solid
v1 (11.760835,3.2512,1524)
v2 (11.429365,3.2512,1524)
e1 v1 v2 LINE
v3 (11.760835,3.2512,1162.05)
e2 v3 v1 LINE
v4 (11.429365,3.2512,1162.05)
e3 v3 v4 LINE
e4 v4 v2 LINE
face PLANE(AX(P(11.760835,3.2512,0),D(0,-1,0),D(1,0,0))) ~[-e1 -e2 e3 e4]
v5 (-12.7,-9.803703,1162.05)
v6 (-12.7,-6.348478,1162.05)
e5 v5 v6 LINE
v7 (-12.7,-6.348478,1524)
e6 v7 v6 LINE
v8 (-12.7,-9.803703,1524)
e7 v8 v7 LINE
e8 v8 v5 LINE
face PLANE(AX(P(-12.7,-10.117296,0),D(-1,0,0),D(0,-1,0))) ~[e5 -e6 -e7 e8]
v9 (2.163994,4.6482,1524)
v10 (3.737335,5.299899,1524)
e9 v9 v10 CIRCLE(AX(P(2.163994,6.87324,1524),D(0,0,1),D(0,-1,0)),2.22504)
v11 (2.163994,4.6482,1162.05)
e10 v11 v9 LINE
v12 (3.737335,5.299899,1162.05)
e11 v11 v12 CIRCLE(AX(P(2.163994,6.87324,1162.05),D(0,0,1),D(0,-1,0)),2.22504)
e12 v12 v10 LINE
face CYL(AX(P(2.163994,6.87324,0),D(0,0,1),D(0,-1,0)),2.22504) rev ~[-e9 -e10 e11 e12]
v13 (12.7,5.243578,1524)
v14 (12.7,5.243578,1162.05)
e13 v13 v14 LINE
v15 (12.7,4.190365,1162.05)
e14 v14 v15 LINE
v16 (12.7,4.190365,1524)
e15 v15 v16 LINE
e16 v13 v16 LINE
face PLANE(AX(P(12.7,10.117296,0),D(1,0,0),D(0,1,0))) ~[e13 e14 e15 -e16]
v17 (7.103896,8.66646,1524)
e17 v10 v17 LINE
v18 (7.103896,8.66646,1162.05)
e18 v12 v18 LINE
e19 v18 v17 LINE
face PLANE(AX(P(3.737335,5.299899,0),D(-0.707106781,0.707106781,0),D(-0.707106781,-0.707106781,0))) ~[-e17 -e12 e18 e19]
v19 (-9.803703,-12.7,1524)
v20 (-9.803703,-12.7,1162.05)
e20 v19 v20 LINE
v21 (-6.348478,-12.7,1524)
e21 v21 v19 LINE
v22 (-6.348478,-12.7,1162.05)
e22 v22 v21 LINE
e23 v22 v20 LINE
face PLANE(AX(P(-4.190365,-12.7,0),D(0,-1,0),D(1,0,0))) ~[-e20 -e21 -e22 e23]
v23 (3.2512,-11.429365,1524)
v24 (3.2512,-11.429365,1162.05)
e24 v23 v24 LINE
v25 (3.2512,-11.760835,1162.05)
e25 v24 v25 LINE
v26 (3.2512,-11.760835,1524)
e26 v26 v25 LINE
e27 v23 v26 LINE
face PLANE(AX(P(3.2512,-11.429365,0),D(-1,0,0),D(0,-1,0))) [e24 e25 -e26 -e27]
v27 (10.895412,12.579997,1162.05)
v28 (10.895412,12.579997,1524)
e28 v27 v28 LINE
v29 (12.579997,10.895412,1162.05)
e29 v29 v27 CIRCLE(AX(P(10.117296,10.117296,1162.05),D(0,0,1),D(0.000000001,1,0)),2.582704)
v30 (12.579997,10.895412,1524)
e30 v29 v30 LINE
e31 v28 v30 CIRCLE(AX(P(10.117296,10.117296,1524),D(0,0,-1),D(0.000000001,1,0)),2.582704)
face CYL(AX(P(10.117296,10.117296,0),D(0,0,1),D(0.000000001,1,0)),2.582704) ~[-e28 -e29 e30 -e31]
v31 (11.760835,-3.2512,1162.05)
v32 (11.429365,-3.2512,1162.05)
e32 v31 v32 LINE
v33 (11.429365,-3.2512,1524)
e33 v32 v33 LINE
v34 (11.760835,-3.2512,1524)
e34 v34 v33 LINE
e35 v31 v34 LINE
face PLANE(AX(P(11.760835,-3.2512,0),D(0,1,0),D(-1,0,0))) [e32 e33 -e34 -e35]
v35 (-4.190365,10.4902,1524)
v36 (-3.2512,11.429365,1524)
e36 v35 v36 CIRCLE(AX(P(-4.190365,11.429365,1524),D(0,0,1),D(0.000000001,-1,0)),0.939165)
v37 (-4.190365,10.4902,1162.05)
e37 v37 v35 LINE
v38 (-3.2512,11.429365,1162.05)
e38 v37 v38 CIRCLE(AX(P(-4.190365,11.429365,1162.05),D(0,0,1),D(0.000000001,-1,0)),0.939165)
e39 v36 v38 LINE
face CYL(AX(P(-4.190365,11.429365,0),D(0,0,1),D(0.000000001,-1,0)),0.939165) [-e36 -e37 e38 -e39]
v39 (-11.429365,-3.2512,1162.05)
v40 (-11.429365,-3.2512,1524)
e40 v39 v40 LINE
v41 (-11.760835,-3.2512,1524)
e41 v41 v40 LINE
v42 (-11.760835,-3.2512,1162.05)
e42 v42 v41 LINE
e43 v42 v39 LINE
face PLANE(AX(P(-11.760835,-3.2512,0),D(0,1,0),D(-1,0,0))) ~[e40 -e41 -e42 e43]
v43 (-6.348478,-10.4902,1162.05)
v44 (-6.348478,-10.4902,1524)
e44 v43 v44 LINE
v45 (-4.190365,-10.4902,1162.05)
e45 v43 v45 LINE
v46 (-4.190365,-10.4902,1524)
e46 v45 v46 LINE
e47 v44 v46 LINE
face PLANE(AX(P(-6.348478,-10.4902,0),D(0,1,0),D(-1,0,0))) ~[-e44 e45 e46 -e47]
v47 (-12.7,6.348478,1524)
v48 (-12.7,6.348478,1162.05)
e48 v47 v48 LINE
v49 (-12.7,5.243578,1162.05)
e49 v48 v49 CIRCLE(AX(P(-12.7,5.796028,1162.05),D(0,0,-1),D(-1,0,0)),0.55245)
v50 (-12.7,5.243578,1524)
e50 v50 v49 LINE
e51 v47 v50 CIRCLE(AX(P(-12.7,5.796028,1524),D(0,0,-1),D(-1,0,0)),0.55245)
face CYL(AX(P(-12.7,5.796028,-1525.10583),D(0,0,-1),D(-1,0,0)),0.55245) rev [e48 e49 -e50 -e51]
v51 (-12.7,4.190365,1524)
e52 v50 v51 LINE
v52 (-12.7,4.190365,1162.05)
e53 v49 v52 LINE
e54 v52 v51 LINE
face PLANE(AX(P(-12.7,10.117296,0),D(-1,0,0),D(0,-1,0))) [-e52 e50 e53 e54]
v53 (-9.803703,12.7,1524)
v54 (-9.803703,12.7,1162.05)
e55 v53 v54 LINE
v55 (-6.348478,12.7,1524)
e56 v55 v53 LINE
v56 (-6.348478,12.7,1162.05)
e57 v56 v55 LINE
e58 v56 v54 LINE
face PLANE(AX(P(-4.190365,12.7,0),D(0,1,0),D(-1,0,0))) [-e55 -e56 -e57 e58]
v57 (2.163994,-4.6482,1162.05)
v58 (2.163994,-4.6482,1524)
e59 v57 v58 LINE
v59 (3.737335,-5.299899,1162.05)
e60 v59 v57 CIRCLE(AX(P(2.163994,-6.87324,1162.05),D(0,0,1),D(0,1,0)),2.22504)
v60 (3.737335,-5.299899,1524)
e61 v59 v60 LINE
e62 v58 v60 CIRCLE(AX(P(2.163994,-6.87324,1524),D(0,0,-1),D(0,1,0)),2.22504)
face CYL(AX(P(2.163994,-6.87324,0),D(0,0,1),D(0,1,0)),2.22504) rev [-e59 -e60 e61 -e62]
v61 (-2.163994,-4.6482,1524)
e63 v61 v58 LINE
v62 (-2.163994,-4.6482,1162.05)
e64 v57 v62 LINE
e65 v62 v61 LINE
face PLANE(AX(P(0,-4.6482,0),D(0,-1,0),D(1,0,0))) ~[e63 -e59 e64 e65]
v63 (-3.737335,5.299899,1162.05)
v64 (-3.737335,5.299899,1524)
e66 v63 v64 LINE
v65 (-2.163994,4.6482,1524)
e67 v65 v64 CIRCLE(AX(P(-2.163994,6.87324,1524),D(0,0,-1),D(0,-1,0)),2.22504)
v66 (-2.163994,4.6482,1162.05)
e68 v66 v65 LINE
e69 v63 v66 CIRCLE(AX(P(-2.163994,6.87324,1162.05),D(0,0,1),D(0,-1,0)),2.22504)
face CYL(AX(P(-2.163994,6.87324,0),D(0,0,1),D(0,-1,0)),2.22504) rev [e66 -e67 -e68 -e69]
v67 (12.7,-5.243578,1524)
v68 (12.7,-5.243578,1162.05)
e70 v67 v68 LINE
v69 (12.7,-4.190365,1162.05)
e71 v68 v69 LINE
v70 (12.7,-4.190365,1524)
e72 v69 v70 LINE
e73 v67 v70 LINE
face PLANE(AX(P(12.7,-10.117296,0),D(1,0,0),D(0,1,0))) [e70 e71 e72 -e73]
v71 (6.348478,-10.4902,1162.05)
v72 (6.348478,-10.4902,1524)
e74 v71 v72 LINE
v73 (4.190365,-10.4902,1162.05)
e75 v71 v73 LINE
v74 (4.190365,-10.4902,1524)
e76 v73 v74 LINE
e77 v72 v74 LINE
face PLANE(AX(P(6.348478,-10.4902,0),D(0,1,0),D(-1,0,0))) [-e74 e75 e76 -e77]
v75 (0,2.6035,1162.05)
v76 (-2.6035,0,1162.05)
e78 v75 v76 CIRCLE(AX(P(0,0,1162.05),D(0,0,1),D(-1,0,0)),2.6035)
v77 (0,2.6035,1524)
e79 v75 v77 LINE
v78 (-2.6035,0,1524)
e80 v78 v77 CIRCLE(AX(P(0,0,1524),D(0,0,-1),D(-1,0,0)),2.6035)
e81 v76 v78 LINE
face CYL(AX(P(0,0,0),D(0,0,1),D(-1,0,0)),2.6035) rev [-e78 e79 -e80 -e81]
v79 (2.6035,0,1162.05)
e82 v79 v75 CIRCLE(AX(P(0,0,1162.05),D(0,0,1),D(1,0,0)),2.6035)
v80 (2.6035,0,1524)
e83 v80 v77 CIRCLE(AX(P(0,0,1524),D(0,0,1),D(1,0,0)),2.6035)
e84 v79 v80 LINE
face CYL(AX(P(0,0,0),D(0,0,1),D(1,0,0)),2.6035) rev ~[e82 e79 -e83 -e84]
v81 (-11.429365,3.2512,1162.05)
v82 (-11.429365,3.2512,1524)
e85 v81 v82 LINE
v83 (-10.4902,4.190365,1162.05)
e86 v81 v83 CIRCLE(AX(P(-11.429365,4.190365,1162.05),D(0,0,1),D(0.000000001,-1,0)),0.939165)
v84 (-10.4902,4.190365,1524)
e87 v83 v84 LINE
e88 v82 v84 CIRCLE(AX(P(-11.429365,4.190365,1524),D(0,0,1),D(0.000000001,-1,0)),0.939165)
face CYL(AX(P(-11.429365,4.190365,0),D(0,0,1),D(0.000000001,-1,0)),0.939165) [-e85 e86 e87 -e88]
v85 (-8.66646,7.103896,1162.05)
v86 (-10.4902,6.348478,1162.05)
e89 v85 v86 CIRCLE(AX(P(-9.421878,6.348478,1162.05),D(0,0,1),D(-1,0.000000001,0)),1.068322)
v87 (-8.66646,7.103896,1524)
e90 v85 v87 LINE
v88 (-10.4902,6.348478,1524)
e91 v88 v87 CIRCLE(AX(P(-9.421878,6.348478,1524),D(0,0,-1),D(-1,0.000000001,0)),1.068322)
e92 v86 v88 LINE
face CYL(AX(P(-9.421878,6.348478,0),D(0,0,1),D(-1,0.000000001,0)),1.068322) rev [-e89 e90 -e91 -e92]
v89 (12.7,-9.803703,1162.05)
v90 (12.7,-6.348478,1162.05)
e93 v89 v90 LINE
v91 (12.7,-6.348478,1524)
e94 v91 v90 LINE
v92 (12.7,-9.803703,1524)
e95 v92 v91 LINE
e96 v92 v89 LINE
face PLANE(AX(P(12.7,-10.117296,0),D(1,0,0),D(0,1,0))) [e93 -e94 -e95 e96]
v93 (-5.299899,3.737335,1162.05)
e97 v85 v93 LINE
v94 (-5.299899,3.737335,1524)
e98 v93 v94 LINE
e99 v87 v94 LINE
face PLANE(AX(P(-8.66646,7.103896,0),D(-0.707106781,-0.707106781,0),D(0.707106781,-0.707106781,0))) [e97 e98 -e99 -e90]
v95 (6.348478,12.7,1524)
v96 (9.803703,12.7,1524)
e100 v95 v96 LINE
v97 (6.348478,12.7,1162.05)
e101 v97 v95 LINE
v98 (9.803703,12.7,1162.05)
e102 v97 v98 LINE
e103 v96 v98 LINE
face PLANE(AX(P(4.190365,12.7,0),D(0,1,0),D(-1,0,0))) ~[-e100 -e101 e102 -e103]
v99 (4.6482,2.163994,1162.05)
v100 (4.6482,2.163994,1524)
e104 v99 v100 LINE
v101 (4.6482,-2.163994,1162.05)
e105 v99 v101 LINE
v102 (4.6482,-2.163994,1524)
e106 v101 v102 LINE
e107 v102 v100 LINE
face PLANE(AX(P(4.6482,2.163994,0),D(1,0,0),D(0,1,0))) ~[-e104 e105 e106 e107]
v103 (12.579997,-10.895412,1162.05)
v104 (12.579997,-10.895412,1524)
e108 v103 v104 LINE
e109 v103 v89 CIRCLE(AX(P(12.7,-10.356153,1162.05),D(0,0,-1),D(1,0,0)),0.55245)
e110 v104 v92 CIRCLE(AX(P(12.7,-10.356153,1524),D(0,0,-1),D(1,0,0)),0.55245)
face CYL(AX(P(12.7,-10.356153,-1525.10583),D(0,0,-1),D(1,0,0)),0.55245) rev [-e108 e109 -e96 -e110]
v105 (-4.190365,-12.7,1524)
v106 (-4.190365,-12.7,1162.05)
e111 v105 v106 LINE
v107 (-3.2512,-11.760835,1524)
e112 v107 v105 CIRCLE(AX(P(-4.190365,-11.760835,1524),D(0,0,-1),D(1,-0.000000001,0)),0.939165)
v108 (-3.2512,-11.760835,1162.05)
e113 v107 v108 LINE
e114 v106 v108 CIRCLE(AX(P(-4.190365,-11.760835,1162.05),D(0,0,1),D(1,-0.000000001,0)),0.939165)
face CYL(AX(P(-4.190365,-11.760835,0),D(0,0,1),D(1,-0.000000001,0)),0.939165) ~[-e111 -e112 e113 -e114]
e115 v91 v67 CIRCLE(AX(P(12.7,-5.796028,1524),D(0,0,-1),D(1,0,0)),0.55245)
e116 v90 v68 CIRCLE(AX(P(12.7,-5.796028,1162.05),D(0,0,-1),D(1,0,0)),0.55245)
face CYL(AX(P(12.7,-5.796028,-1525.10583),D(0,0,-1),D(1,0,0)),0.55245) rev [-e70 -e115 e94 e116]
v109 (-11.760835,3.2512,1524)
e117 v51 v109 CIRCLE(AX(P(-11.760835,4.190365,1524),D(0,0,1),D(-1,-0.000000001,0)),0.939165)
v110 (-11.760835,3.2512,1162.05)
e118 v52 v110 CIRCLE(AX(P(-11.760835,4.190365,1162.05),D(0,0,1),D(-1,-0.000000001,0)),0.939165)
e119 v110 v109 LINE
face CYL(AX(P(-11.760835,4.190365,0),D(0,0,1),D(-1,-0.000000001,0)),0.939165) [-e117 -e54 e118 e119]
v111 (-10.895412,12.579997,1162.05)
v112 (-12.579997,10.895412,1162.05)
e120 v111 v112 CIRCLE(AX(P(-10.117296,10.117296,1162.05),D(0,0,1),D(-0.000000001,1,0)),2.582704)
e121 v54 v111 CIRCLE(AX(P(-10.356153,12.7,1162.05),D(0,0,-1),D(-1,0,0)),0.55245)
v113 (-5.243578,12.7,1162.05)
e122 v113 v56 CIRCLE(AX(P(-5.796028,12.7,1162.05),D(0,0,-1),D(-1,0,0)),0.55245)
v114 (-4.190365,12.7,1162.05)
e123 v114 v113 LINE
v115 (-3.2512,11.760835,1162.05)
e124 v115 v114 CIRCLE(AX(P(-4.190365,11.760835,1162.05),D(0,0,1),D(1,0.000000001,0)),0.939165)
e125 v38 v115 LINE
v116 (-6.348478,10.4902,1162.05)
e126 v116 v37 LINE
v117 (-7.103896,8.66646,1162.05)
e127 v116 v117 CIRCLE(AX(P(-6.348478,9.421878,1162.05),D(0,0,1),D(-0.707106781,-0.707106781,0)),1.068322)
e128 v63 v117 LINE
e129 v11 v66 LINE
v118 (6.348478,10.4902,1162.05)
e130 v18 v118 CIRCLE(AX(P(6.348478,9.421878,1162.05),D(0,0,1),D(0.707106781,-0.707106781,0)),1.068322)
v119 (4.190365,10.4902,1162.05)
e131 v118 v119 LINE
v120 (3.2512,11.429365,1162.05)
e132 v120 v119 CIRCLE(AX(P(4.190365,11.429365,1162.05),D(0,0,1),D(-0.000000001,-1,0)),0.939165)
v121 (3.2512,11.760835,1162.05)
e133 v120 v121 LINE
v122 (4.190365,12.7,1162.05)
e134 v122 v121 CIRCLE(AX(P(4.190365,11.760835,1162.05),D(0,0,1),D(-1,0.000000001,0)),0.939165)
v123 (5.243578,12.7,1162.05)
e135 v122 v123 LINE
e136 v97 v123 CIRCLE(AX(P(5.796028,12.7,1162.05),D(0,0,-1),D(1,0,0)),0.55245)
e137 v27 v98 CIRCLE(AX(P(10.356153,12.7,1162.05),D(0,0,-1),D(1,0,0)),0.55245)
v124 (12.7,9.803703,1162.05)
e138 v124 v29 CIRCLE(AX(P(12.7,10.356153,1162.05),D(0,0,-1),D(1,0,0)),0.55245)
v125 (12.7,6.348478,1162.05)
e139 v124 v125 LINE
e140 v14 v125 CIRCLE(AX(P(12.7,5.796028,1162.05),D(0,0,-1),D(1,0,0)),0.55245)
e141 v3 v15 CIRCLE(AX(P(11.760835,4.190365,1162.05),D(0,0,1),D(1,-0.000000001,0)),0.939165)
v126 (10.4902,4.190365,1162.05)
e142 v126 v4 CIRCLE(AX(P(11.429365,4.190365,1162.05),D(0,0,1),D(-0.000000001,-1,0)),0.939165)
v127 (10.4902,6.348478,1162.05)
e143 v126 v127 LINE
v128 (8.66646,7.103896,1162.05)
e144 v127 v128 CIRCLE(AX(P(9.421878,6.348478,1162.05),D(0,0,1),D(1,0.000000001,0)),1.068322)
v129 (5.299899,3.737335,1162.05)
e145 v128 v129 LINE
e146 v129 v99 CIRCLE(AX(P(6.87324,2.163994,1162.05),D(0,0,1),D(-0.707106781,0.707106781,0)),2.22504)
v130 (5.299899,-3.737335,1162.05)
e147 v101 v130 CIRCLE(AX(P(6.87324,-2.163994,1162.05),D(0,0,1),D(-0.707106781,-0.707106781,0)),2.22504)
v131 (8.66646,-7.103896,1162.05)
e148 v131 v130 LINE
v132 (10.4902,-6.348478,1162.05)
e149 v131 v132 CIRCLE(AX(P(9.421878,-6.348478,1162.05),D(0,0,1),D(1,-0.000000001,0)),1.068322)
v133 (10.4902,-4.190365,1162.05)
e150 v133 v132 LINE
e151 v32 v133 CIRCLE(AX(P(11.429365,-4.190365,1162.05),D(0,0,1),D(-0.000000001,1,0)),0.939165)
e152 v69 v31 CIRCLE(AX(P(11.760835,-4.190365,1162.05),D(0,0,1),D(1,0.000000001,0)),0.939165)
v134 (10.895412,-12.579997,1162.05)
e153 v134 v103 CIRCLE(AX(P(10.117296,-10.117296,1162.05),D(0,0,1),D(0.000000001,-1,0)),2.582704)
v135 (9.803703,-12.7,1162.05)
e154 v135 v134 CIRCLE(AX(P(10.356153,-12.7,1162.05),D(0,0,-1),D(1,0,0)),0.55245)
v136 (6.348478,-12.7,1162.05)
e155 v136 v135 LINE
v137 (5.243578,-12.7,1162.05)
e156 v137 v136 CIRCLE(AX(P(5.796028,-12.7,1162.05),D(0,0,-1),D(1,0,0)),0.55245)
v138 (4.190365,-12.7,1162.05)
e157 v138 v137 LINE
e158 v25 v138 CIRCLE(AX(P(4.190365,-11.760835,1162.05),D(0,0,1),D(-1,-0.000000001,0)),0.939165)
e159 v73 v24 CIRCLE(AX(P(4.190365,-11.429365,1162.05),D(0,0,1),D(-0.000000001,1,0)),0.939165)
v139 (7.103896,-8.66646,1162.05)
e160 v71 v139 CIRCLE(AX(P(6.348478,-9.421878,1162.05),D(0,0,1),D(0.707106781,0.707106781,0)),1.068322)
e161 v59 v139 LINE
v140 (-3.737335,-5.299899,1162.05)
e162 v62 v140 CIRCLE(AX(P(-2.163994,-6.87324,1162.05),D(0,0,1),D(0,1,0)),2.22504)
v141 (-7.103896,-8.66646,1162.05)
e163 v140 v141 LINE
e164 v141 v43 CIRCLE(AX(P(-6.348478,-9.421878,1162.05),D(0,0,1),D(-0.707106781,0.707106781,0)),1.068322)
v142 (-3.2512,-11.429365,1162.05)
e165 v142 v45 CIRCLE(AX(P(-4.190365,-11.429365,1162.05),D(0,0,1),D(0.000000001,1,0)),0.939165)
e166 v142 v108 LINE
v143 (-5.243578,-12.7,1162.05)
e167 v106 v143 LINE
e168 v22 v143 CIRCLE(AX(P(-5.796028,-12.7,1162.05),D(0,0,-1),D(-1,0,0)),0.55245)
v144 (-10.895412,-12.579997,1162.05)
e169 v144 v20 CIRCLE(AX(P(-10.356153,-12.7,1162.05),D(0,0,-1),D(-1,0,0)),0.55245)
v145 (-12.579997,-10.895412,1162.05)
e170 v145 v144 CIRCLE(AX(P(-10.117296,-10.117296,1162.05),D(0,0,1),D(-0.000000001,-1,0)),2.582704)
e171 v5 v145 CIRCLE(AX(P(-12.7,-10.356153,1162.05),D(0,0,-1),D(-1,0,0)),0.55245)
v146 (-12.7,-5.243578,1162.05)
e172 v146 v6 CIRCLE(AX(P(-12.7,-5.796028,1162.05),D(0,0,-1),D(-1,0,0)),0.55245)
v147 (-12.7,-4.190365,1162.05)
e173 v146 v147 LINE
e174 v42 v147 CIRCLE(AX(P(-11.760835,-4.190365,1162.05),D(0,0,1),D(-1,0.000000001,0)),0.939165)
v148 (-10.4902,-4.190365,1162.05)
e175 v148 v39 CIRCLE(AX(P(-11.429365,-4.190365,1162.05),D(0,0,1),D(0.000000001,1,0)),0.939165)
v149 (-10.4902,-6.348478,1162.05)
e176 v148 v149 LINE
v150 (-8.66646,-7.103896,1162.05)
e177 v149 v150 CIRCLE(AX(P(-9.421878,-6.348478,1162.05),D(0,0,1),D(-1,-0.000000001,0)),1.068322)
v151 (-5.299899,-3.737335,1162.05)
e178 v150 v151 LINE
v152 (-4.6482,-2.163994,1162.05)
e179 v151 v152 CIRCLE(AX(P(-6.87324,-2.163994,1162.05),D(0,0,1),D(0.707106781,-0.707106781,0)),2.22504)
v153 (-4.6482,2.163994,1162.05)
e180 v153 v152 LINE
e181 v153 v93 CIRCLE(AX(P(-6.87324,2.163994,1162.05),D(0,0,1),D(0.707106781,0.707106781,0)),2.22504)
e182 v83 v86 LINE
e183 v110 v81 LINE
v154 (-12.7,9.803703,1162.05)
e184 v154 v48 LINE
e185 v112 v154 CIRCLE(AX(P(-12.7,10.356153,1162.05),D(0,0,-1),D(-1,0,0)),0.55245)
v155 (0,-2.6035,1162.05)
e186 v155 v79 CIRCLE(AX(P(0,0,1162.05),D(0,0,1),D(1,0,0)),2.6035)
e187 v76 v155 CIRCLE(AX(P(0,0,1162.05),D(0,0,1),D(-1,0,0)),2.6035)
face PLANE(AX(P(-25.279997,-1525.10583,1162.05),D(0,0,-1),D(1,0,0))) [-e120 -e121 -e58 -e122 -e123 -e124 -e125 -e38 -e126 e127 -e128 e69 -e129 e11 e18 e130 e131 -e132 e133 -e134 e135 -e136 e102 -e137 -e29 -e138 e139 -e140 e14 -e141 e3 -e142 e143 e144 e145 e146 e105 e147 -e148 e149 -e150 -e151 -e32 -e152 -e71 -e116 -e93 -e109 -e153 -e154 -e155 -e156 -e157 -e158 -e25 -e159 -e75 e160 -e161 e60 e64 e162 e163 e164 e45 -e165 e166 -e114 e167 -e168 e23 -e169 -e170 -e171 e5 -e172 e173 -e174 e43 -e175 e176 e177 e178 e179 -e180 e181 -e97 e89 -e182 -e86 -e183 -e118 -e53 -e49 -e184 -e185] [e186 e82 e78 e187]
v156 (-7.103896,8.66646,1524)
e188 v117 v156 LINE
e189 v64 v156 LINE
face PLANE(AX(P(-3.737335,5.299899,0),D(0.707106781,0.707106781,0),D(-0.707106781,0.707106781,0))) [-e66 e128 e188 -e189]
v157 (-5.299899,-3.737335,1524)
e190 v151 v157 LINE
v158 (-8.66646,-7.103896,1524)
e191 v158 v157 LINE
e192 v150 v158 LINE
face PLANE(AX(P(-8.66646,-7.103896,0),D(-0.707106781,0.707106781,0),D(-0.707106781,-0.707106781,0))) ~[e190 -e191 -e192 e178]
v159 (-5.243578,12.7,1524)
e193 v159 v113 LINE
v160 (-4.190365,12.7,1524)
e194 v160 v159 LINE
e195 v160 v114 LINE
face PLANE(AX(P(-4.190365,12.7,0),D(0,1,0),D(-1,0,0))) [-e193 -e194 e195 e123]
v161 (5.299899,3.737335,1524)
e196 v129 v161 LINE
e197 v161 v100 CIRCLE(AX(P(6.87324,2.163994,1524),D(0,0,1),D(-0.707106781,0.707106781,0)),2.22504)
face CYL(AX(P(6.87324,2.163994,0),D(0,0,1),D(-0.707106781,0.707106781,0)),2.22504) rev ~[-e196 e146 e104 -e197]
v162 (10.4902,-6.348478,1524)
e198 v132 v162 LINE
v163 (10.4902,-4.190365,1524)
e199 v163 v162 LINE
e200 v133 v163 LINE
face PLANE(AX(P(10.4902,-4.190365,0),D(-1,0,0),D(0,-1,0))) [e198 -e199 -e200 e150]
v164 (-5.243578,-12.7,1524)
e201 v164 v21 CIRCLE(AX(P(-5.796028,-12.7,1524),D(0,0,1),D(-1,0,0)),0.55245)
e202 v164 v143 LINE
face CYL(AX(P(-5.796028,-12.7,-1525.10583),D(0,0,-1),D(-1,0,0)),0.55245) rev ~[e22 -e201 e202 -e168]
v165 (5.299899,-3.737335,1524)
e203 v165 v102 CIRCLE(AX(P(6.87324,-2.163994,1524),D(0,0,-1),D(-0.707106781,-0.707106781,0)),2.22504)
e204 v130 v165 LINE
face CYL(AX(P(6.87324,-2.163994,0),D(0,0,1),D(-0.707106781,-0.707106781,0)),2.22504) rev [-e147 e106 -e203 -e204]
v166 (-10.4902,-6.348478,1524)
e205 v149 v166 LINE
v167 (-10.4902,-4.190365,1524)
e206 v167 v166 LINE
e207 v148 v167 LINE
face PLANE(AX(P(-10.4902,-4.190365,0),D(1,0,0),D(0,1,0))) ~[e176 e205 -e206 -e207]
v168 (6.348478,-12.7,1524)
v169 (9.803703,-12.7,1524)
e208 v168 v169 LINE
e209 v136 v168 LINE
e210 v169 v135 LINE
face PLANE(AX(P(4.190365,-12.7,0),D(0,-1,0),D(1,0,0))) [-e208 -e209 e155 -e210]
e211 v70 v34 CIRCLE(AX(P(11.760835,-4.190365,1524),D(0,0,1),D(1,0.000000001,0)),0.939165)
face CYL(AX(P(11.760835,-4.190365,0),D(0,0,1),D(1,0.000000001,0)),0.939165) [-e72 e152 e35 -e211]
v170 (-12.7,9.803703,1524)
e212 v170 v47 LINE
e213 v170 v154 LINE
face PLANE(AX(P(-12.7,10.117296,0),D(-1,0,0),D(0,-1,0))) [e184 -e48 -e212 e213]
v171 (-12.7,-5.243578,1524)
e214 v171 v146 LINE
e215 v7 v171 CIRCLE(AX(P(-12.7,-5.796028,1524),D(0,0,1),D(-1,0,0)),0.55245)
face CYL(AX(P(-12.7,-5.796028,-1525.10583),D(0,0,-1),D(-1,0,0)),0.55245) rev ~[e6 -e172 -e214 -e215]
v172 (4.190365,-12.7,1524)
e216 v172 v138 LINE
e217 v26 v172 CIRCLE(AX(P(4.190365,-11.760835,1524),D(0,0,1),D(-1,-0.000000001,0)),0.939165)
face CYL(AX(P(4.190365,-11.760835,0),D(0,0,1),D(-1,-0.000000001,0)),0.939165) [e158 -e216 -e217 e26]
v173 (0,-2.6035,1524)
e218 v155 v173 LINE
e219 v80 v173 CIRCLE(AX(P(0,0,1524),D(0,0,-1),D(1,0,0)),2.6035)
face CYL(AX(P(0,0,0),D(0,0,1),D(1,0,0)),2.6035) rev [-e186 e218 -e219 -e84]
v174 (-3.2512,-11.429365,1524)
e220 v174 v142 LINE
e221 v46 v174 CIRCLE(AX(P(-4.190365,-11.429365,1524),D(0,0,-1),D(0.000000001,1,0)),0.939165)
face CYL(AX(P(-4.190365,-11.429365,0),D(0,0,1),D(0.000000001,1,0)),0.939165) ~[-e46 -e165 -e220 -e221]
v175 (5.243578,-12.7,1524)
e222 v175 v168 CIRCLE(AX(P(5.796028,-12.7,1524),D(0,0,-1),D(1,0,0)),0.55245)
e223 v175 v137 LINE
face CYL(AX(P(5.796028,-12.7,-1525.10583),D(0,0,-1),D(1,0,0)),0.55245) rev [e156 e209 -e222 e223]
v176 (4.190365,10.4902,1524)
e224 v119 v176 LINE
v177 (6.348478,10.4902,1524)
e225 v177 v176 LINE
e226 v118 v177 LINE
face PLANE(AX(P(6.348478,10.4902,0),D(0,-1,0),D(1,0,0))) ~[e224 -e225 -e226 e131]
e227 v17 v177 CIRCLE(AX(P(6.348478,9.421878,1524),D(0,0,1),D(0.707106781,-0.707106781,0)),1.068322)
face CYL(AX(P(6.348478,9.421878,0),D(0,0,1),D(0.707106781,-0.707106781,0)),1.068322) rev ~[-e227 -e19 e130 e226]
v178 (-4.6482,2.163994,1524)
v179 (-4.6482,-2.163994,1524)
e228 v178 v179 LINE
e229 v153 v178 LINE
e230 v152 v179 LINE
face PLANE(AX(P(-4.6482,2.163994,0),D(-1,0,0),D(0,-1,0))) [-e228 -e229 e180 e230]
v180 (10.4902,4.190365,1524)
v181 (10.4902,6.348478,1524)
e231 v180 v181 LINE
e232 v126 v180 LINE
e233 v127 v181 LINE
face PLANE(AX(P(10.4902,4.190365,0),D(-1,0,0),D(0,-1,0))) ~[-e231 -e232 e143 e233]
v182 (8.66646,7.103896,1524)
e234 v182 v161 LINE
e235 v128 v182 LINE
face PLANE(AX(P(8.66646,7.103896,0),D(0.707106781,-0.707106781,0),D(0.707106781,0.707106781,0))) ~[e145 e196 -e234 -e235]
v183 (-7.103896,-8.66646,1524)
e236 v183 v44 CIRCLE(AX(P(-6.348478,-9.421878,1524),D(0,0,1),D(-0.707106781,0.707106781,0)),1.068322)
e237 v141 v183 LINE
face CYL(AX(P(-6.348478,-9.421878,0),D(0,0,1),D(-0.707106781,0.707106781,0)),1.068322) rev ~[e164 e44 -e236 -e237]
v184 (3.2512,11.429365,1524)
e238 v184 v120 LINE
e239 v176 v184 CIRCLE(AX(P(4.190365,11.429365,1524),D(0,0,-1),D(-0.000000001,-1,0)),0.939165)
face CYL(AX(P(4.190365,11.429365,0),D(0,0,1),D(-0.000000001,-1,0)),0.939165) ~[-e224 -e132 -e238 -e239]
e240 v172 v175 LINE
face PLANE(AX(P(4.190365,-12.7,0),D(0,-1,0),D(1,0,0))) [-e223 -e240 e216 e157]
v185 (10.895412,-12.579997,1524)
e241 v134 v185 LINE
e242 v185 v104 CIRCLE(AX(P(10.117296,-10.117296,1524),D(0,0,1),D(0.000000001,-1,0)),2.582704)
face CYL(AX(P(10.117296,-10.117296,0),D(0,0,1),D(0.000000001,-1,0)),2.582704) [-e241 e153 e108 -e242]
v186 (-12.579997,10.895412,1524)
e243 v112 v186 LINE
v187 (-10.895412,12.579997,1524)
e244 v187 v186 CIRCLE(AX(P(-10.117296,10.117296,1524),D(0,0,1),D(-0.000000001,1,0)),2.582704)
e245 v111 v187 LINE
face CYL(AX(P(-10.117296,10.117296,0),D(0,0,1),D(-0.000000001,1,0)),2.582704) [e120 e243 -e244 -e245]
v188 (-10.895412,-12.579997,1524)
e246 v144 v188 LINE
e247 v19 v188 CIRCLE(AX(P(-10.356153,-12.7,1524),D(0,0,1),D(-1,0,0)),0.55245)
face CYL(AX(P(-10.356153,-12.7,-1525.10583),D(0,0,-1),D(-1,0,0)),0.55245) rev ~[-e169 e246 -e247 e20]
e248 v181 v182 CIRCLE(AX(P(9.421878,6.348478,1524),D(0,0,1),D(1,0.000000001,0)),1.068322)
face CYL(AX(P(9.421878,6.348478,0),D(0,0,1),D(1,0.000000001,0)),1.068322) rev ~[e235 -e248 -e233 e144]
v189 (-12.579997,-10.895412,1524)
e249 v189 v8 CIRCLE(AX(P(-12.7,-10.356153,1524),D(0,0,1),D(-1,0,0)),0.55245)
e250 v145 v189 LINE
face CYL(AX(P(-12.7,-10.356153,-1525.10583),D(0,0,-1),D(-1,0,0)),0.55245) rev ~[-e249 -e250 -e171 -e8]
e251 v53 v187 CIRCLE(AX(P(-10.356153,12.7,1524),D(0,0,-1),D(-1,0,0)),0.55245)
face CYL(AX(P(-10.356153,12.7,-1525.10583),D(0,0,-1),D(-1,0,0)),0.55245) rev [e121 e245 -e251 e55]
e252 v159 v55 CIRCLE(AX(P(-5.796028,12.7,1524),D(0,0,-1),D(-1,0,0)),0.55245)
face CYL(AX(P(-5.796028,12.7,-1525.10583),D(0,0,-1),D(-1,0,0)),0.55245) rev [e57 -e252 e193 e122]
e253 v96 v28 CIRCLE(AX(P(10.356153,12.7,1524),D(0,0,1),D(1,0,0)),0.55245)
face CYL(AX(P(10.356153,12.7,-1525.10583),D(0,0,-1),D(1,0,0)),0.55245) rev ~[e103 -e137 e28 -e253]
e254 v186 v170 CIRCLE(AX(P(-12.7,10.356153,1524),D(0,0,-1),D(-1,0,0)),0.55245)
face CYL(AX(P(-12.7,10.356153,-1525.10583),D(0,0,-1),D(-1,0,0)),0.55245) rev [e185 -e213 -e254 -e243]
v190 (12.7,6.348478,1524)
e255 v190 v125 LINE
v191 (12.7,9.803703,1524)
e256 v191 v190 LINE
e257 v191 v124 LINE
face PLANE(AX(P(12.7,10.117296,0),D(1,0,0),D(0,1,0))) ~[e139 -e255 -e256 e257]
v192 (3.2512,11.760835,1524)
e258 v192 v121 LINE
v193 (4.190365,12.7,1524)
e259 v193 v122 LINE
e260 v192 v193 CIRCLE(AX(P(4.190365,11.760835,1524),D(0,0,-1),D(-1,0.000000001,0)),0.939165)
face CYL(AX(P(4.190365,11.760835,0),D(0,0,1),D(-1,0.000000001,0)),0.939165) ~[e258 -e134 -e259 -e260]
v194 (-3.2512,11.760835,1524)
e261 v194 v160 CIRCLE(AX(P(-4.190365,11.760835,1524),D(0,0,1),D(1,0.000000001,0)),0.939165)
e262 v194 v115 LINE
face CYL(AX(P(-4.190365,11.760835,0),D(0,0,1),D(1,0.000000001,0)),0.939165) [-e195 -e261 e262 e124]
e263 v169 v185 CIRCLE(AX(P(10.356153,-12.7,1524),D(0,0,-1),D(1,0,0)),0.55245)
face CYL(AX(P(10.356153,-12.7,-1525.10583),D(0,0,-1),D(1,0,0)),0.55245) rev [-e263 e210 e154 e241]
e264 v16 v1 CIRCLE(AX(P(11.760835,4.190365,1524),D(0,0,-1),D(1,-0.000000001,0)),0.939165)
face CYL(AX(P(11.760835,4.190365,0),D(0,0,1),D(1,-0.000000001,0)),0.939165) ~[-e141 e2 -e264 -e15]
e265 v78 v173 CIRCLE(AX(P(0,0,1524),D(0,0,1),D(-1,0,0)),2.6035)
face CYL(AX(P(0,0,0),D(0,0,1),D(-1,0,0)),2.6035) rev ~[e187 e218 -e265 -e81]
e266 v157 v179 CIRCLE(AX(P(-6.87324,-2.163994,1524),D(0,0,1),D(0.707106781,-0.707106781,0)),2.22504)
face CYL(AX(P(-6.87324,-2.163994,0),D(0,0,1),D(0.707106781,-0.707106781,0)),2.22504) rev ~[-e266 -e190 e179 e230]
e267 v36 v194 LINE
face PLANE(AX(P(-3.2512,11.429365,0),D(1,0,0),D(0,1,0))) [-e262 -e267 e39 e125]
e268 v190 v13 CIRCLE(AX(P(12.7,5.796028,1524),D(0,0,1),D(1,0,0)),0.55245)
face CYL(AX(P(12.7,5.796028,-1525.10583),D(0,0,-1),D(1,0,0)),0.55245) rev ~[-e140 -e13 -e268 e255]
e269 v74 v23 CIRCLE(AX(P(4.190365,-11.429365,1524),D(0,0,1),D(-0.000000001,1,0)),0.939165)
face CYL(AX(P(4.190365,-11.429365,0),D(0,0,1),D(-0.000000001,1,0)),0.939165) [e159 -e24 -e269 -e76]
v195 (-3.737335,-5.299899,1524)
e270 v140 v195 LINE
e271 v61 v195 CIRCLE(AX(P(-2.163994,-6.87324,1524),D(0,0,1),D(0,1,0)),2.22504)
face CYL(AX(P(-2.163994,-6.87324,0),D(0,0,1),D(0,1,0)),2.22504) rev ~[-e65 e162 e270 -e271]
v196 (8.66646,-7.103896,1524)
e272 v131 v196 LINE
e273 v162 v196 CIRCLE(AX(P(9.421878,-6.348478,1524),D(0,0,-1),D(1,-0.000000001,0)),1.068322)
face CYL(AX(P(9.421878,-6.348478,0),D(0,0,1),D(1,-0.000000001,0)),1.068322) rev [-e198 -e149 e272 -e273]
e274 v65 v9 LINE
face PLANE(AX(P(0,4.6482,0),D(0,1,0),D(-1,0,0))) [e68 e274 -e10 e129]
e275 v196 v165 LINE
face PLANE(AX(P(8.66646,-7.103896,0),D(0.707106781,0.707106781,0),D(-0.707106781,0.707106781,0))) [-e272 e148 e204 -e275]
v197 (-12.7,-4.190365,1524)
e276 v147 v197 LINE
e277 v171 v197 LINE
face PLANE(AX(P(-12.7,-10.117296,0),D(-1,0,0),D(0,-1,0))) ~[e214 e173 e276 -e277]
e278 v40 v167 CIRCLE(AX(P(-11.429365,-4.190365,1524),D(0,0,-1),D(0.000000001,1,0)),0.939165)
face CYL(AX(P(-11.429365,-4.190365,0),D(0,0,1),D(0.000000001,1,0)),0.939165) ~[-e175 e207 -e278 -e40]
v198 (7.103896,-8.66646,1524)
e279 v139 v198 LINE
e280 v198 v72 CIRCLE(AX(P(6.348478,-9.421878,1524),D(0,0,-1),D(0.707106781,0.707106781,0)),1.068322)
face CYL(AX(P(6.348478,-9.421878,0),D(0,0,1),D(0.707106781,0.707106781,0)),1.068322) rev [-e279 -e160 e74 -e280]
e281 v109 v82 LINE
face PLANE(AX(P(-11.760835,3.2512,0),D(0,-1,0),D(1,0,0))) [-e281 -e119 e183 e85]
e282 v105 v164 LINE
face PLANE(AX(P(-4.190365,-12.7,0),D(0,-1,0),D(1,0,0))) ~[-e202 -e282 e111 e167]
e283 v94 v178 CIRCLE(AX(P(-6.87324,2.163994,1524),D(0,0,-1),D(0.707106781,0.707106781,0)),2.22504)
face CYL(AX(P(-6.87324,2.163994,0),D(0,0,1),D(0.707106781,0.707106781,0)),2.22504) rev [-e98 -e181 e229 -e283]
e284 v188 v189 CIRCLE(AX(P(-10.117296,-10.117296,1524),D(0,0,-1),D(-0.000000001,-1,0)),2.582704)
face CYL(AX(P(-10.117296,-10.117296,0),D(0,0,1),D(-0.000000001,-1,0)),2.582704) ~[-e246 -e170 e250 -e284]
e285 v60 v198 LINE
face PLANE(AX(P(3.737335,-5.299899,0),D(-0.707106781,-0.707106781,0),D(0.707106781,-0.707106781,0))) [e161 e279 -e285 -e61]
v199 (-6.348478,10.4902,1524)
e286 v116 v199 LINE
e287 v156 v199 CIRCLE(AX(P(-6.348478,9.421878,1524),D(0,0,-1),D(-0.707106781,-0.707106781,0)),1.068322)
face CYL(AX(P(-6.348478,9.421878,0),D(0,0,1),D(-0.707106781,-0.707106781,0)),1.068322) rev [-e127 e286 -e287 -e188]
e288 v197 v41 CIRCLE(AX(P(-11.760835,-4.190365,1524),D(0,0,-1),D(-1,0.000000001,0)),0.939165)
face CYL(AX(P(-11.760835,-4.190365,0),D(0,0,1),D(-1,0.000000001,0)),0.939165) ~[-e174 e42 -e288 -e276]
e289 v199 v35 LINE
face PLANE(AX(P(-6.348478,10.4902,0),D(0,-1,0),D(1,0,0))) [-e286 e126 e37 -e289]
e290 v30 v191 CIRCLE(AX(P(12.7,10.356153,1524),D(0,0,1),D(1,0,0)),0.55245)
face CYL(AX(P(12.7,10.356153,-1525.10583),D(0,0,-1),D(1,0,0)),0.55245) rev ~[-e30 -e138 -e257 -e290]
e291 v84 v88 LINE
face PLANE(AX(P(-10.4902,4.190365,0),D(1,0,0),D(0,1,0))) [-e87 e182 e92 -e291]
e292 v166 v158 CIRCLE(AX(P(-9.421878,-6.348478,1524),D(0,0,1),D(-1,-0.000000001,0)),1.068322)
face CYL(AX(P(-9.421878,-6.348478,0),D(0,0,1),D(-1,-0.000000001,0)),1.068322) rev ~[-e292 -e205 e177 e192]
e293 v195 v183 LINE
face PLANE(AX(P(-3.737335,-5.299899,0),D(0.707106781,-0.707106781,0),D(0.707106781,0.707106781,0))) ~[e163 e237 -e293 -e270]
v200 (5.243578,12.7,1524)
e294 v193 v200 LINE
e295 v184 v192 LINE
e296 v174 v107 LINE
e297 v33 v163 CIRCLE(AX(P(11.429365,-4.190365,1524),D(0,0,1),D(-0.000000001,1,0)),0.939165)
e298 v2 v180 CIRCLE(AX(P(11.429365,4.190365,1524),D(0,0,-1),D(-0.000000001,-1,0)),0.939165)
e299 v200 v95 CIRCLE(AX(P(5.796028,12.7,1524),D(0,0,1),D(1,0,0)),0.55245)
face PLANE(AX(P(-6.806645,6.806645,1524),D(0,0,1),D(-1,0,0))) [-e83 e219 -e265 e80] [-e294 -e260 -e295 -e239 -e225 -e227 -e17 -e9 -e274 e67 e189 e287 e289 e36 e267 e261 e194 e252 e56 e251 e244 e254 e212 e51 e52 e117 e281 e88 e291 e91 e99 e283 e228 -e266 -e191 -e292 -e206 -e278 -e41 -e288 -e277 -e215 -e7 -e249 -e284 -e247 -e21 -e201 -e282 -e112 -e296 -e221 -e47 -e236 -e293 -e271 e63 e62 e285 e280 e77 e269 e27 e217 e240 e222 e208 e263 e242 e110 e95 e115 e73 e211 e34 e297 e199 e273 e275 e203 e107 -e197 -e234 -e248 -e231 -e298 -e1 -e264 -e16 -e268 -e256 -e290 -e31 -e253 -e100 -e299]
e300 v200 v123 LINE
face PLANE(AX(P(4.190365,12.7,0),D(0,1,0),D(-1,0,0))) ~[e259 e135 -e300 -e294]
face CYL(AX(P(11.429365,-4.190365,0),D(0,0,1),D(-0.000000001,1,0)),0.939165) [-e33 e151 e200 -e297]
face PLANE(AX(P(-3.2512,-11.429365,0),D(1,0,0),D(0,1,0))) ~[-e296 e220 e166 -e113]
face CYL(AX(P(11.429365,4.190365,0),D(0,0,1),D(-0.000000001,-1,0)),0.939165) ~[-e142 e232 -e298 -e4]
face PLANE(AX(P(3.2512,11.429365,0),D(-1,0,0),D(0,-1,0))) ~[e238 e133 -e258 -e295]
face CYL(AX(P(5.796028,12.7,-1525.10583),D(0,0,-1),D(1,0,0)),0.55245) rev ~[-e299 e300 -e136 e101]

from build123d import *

# Parameters (mm, degrees)
BOSS_EXTRUDE1_DEPTH     = 1524
CUT_EXTRUDE1_DEPTH      = 1525.105829659
CUT_EXTRUDE1_DEPTH_BACK = 1525.105829659
SKETCH5_R               = 0.55245
CUT_EXTRUDE2_DEPTH      = 1525.105829659
CUT_EXTRUDE2_DEPTH_BACK = 1525.105829659
SKETCH8_W               = 50.559993734
SKETCH8_H               = 2698.75


with BuildPart() as part:
    # Sketch4 → Boss-Extrude1 (new, symmetric)
    with BuildSketch(Plane.XY):
        with BuildLine():
            Line((4.190365, -12.7), (10.11729625, -12.7))
            ThreePointArc((10.11729625, -12.7), (11.943543585, -11.943543585), (12.7, -10.11729625))
            Line((12.7, -10.11729625), (12.7, -4.190365))
            ThreePointArc((12.7, -4.190365), (12.42492494, -3.52627506), (11.760835, -3.2512))
            Line((11.760835, -3.2512), (11.429365, -3.2512))
            ThreePointArc((11.429365, -3.2512), (10.76527506, -3.52627506), (10.4902, -4.190365))
            Line((10.4902, -4.190365), (10.4902, -6.348478019))
            ThreePointArc((10.4902, -6.348478019), (9.830707141, -7.335478831), (8.666460301, -7.103895736))
            Line((8.666460301, -7.103895736), (5.299899128, -3.737334563))
            ThreePointArc((5.299899128, -3.737334563), (4.817571085, -3.015479634), (4.6482, -2.16399369))
            Line((4.6482, -2.16399369), (4.6482, 0))
            Line((4.6482, 0), (2.6035, 0))
            ThreePointArc((2.6035, 0), (1.840952505, -1.840952505), (0, -2.6035))
            Line((0, -2.6035), (0, -4.6482))
            Line((0, -4.6482), (2.16399369, -4.6482))
            ThreePointArc((2.16399369, -4.6482), (3.015479634, -4.817571085), (3.737334563, -5.299899128))
            Line((3.737334563, -5.299899128), (7.103895736, -8.666460301))
            ThreePointArc((7.103895736, -8.666460301), (7.335478831, -9.830707141), (6.348478019, -10.4902))
            Line((6.348478019, -10.4902), (4.190365, -10.4902))
            ThreePointArc((4.190365, -10.4902), (3.52627506, -10.76527506), (3.2512, -11.429365))
            Line((3.2512, -11.429365), (3.2512, -11.760835))
            ThreePointArc((3.2512, -11.760835), (3.52627506, -12.42492494), (4.190365, -12.7))
        make_face()
    extrude(amount=BOSS_EXTRUDE1_DEPTH, both=True)

    # Sketch5 → Cut-Extrude1 (cut, two sides: drawn at the far end of the back side and taken through both)
    with BuildSketch(Plane.XY.offset(-CUT_EXTRUDE1_DEPTH_BACK)):
        with Locations((10.356153152, -12.7)):
            Circle(SKETCH5_R)
        with Locations((5.796028019, -12.7)):
            Circle(SKETCH5_R)
        with Locations((12.7, -10.356153152)):
            Circle(SKETCH5_R)
        with Locations((12.7, -5.796028019)):
            Circle(SKETCH5_R)
    extrude(amount=CUT_EXTRUDE1_DEPTH + CUT_EXTRUDE1_DEPTH_BACK, mode=Mode.SUBTRACT)

    # Mirror1: part across plane


with BuildPart() as part_1:
    add(part.part)
    add(part.part.mirror(Plane(origin=(0, 0, 0), x_dir=(0, 0, 1), z_dir=(1, 0, 0))))

    # Mirror2: part across plane


with BuildPart() as part_2:
    add(part_1.part)
    add(part_1.part.mirror(Plane.ZX))

    # Sketch8 → Cut-Extrude2 (cut, two sides: drawn at the far end of the back side and taken through both)
    with BuildSketch(Plane(origin=(0, 0, 0), x_dir=(1, 0, 0), z_dir=(0, 1, 0)).offset(-CUT_EXTRUDE2_DEPTH_BACK)):
        with Locations((0, 187.325)):
            Rectangle(SKETCH8_W, SKETCH8_H)
    extrude(amount=CUT_EXTRUDE2_DEPTH + CUT_EXTRUDE2_DEPTH_BACK, mode=Mode.SUBTRACT)


solid = part_2.part
